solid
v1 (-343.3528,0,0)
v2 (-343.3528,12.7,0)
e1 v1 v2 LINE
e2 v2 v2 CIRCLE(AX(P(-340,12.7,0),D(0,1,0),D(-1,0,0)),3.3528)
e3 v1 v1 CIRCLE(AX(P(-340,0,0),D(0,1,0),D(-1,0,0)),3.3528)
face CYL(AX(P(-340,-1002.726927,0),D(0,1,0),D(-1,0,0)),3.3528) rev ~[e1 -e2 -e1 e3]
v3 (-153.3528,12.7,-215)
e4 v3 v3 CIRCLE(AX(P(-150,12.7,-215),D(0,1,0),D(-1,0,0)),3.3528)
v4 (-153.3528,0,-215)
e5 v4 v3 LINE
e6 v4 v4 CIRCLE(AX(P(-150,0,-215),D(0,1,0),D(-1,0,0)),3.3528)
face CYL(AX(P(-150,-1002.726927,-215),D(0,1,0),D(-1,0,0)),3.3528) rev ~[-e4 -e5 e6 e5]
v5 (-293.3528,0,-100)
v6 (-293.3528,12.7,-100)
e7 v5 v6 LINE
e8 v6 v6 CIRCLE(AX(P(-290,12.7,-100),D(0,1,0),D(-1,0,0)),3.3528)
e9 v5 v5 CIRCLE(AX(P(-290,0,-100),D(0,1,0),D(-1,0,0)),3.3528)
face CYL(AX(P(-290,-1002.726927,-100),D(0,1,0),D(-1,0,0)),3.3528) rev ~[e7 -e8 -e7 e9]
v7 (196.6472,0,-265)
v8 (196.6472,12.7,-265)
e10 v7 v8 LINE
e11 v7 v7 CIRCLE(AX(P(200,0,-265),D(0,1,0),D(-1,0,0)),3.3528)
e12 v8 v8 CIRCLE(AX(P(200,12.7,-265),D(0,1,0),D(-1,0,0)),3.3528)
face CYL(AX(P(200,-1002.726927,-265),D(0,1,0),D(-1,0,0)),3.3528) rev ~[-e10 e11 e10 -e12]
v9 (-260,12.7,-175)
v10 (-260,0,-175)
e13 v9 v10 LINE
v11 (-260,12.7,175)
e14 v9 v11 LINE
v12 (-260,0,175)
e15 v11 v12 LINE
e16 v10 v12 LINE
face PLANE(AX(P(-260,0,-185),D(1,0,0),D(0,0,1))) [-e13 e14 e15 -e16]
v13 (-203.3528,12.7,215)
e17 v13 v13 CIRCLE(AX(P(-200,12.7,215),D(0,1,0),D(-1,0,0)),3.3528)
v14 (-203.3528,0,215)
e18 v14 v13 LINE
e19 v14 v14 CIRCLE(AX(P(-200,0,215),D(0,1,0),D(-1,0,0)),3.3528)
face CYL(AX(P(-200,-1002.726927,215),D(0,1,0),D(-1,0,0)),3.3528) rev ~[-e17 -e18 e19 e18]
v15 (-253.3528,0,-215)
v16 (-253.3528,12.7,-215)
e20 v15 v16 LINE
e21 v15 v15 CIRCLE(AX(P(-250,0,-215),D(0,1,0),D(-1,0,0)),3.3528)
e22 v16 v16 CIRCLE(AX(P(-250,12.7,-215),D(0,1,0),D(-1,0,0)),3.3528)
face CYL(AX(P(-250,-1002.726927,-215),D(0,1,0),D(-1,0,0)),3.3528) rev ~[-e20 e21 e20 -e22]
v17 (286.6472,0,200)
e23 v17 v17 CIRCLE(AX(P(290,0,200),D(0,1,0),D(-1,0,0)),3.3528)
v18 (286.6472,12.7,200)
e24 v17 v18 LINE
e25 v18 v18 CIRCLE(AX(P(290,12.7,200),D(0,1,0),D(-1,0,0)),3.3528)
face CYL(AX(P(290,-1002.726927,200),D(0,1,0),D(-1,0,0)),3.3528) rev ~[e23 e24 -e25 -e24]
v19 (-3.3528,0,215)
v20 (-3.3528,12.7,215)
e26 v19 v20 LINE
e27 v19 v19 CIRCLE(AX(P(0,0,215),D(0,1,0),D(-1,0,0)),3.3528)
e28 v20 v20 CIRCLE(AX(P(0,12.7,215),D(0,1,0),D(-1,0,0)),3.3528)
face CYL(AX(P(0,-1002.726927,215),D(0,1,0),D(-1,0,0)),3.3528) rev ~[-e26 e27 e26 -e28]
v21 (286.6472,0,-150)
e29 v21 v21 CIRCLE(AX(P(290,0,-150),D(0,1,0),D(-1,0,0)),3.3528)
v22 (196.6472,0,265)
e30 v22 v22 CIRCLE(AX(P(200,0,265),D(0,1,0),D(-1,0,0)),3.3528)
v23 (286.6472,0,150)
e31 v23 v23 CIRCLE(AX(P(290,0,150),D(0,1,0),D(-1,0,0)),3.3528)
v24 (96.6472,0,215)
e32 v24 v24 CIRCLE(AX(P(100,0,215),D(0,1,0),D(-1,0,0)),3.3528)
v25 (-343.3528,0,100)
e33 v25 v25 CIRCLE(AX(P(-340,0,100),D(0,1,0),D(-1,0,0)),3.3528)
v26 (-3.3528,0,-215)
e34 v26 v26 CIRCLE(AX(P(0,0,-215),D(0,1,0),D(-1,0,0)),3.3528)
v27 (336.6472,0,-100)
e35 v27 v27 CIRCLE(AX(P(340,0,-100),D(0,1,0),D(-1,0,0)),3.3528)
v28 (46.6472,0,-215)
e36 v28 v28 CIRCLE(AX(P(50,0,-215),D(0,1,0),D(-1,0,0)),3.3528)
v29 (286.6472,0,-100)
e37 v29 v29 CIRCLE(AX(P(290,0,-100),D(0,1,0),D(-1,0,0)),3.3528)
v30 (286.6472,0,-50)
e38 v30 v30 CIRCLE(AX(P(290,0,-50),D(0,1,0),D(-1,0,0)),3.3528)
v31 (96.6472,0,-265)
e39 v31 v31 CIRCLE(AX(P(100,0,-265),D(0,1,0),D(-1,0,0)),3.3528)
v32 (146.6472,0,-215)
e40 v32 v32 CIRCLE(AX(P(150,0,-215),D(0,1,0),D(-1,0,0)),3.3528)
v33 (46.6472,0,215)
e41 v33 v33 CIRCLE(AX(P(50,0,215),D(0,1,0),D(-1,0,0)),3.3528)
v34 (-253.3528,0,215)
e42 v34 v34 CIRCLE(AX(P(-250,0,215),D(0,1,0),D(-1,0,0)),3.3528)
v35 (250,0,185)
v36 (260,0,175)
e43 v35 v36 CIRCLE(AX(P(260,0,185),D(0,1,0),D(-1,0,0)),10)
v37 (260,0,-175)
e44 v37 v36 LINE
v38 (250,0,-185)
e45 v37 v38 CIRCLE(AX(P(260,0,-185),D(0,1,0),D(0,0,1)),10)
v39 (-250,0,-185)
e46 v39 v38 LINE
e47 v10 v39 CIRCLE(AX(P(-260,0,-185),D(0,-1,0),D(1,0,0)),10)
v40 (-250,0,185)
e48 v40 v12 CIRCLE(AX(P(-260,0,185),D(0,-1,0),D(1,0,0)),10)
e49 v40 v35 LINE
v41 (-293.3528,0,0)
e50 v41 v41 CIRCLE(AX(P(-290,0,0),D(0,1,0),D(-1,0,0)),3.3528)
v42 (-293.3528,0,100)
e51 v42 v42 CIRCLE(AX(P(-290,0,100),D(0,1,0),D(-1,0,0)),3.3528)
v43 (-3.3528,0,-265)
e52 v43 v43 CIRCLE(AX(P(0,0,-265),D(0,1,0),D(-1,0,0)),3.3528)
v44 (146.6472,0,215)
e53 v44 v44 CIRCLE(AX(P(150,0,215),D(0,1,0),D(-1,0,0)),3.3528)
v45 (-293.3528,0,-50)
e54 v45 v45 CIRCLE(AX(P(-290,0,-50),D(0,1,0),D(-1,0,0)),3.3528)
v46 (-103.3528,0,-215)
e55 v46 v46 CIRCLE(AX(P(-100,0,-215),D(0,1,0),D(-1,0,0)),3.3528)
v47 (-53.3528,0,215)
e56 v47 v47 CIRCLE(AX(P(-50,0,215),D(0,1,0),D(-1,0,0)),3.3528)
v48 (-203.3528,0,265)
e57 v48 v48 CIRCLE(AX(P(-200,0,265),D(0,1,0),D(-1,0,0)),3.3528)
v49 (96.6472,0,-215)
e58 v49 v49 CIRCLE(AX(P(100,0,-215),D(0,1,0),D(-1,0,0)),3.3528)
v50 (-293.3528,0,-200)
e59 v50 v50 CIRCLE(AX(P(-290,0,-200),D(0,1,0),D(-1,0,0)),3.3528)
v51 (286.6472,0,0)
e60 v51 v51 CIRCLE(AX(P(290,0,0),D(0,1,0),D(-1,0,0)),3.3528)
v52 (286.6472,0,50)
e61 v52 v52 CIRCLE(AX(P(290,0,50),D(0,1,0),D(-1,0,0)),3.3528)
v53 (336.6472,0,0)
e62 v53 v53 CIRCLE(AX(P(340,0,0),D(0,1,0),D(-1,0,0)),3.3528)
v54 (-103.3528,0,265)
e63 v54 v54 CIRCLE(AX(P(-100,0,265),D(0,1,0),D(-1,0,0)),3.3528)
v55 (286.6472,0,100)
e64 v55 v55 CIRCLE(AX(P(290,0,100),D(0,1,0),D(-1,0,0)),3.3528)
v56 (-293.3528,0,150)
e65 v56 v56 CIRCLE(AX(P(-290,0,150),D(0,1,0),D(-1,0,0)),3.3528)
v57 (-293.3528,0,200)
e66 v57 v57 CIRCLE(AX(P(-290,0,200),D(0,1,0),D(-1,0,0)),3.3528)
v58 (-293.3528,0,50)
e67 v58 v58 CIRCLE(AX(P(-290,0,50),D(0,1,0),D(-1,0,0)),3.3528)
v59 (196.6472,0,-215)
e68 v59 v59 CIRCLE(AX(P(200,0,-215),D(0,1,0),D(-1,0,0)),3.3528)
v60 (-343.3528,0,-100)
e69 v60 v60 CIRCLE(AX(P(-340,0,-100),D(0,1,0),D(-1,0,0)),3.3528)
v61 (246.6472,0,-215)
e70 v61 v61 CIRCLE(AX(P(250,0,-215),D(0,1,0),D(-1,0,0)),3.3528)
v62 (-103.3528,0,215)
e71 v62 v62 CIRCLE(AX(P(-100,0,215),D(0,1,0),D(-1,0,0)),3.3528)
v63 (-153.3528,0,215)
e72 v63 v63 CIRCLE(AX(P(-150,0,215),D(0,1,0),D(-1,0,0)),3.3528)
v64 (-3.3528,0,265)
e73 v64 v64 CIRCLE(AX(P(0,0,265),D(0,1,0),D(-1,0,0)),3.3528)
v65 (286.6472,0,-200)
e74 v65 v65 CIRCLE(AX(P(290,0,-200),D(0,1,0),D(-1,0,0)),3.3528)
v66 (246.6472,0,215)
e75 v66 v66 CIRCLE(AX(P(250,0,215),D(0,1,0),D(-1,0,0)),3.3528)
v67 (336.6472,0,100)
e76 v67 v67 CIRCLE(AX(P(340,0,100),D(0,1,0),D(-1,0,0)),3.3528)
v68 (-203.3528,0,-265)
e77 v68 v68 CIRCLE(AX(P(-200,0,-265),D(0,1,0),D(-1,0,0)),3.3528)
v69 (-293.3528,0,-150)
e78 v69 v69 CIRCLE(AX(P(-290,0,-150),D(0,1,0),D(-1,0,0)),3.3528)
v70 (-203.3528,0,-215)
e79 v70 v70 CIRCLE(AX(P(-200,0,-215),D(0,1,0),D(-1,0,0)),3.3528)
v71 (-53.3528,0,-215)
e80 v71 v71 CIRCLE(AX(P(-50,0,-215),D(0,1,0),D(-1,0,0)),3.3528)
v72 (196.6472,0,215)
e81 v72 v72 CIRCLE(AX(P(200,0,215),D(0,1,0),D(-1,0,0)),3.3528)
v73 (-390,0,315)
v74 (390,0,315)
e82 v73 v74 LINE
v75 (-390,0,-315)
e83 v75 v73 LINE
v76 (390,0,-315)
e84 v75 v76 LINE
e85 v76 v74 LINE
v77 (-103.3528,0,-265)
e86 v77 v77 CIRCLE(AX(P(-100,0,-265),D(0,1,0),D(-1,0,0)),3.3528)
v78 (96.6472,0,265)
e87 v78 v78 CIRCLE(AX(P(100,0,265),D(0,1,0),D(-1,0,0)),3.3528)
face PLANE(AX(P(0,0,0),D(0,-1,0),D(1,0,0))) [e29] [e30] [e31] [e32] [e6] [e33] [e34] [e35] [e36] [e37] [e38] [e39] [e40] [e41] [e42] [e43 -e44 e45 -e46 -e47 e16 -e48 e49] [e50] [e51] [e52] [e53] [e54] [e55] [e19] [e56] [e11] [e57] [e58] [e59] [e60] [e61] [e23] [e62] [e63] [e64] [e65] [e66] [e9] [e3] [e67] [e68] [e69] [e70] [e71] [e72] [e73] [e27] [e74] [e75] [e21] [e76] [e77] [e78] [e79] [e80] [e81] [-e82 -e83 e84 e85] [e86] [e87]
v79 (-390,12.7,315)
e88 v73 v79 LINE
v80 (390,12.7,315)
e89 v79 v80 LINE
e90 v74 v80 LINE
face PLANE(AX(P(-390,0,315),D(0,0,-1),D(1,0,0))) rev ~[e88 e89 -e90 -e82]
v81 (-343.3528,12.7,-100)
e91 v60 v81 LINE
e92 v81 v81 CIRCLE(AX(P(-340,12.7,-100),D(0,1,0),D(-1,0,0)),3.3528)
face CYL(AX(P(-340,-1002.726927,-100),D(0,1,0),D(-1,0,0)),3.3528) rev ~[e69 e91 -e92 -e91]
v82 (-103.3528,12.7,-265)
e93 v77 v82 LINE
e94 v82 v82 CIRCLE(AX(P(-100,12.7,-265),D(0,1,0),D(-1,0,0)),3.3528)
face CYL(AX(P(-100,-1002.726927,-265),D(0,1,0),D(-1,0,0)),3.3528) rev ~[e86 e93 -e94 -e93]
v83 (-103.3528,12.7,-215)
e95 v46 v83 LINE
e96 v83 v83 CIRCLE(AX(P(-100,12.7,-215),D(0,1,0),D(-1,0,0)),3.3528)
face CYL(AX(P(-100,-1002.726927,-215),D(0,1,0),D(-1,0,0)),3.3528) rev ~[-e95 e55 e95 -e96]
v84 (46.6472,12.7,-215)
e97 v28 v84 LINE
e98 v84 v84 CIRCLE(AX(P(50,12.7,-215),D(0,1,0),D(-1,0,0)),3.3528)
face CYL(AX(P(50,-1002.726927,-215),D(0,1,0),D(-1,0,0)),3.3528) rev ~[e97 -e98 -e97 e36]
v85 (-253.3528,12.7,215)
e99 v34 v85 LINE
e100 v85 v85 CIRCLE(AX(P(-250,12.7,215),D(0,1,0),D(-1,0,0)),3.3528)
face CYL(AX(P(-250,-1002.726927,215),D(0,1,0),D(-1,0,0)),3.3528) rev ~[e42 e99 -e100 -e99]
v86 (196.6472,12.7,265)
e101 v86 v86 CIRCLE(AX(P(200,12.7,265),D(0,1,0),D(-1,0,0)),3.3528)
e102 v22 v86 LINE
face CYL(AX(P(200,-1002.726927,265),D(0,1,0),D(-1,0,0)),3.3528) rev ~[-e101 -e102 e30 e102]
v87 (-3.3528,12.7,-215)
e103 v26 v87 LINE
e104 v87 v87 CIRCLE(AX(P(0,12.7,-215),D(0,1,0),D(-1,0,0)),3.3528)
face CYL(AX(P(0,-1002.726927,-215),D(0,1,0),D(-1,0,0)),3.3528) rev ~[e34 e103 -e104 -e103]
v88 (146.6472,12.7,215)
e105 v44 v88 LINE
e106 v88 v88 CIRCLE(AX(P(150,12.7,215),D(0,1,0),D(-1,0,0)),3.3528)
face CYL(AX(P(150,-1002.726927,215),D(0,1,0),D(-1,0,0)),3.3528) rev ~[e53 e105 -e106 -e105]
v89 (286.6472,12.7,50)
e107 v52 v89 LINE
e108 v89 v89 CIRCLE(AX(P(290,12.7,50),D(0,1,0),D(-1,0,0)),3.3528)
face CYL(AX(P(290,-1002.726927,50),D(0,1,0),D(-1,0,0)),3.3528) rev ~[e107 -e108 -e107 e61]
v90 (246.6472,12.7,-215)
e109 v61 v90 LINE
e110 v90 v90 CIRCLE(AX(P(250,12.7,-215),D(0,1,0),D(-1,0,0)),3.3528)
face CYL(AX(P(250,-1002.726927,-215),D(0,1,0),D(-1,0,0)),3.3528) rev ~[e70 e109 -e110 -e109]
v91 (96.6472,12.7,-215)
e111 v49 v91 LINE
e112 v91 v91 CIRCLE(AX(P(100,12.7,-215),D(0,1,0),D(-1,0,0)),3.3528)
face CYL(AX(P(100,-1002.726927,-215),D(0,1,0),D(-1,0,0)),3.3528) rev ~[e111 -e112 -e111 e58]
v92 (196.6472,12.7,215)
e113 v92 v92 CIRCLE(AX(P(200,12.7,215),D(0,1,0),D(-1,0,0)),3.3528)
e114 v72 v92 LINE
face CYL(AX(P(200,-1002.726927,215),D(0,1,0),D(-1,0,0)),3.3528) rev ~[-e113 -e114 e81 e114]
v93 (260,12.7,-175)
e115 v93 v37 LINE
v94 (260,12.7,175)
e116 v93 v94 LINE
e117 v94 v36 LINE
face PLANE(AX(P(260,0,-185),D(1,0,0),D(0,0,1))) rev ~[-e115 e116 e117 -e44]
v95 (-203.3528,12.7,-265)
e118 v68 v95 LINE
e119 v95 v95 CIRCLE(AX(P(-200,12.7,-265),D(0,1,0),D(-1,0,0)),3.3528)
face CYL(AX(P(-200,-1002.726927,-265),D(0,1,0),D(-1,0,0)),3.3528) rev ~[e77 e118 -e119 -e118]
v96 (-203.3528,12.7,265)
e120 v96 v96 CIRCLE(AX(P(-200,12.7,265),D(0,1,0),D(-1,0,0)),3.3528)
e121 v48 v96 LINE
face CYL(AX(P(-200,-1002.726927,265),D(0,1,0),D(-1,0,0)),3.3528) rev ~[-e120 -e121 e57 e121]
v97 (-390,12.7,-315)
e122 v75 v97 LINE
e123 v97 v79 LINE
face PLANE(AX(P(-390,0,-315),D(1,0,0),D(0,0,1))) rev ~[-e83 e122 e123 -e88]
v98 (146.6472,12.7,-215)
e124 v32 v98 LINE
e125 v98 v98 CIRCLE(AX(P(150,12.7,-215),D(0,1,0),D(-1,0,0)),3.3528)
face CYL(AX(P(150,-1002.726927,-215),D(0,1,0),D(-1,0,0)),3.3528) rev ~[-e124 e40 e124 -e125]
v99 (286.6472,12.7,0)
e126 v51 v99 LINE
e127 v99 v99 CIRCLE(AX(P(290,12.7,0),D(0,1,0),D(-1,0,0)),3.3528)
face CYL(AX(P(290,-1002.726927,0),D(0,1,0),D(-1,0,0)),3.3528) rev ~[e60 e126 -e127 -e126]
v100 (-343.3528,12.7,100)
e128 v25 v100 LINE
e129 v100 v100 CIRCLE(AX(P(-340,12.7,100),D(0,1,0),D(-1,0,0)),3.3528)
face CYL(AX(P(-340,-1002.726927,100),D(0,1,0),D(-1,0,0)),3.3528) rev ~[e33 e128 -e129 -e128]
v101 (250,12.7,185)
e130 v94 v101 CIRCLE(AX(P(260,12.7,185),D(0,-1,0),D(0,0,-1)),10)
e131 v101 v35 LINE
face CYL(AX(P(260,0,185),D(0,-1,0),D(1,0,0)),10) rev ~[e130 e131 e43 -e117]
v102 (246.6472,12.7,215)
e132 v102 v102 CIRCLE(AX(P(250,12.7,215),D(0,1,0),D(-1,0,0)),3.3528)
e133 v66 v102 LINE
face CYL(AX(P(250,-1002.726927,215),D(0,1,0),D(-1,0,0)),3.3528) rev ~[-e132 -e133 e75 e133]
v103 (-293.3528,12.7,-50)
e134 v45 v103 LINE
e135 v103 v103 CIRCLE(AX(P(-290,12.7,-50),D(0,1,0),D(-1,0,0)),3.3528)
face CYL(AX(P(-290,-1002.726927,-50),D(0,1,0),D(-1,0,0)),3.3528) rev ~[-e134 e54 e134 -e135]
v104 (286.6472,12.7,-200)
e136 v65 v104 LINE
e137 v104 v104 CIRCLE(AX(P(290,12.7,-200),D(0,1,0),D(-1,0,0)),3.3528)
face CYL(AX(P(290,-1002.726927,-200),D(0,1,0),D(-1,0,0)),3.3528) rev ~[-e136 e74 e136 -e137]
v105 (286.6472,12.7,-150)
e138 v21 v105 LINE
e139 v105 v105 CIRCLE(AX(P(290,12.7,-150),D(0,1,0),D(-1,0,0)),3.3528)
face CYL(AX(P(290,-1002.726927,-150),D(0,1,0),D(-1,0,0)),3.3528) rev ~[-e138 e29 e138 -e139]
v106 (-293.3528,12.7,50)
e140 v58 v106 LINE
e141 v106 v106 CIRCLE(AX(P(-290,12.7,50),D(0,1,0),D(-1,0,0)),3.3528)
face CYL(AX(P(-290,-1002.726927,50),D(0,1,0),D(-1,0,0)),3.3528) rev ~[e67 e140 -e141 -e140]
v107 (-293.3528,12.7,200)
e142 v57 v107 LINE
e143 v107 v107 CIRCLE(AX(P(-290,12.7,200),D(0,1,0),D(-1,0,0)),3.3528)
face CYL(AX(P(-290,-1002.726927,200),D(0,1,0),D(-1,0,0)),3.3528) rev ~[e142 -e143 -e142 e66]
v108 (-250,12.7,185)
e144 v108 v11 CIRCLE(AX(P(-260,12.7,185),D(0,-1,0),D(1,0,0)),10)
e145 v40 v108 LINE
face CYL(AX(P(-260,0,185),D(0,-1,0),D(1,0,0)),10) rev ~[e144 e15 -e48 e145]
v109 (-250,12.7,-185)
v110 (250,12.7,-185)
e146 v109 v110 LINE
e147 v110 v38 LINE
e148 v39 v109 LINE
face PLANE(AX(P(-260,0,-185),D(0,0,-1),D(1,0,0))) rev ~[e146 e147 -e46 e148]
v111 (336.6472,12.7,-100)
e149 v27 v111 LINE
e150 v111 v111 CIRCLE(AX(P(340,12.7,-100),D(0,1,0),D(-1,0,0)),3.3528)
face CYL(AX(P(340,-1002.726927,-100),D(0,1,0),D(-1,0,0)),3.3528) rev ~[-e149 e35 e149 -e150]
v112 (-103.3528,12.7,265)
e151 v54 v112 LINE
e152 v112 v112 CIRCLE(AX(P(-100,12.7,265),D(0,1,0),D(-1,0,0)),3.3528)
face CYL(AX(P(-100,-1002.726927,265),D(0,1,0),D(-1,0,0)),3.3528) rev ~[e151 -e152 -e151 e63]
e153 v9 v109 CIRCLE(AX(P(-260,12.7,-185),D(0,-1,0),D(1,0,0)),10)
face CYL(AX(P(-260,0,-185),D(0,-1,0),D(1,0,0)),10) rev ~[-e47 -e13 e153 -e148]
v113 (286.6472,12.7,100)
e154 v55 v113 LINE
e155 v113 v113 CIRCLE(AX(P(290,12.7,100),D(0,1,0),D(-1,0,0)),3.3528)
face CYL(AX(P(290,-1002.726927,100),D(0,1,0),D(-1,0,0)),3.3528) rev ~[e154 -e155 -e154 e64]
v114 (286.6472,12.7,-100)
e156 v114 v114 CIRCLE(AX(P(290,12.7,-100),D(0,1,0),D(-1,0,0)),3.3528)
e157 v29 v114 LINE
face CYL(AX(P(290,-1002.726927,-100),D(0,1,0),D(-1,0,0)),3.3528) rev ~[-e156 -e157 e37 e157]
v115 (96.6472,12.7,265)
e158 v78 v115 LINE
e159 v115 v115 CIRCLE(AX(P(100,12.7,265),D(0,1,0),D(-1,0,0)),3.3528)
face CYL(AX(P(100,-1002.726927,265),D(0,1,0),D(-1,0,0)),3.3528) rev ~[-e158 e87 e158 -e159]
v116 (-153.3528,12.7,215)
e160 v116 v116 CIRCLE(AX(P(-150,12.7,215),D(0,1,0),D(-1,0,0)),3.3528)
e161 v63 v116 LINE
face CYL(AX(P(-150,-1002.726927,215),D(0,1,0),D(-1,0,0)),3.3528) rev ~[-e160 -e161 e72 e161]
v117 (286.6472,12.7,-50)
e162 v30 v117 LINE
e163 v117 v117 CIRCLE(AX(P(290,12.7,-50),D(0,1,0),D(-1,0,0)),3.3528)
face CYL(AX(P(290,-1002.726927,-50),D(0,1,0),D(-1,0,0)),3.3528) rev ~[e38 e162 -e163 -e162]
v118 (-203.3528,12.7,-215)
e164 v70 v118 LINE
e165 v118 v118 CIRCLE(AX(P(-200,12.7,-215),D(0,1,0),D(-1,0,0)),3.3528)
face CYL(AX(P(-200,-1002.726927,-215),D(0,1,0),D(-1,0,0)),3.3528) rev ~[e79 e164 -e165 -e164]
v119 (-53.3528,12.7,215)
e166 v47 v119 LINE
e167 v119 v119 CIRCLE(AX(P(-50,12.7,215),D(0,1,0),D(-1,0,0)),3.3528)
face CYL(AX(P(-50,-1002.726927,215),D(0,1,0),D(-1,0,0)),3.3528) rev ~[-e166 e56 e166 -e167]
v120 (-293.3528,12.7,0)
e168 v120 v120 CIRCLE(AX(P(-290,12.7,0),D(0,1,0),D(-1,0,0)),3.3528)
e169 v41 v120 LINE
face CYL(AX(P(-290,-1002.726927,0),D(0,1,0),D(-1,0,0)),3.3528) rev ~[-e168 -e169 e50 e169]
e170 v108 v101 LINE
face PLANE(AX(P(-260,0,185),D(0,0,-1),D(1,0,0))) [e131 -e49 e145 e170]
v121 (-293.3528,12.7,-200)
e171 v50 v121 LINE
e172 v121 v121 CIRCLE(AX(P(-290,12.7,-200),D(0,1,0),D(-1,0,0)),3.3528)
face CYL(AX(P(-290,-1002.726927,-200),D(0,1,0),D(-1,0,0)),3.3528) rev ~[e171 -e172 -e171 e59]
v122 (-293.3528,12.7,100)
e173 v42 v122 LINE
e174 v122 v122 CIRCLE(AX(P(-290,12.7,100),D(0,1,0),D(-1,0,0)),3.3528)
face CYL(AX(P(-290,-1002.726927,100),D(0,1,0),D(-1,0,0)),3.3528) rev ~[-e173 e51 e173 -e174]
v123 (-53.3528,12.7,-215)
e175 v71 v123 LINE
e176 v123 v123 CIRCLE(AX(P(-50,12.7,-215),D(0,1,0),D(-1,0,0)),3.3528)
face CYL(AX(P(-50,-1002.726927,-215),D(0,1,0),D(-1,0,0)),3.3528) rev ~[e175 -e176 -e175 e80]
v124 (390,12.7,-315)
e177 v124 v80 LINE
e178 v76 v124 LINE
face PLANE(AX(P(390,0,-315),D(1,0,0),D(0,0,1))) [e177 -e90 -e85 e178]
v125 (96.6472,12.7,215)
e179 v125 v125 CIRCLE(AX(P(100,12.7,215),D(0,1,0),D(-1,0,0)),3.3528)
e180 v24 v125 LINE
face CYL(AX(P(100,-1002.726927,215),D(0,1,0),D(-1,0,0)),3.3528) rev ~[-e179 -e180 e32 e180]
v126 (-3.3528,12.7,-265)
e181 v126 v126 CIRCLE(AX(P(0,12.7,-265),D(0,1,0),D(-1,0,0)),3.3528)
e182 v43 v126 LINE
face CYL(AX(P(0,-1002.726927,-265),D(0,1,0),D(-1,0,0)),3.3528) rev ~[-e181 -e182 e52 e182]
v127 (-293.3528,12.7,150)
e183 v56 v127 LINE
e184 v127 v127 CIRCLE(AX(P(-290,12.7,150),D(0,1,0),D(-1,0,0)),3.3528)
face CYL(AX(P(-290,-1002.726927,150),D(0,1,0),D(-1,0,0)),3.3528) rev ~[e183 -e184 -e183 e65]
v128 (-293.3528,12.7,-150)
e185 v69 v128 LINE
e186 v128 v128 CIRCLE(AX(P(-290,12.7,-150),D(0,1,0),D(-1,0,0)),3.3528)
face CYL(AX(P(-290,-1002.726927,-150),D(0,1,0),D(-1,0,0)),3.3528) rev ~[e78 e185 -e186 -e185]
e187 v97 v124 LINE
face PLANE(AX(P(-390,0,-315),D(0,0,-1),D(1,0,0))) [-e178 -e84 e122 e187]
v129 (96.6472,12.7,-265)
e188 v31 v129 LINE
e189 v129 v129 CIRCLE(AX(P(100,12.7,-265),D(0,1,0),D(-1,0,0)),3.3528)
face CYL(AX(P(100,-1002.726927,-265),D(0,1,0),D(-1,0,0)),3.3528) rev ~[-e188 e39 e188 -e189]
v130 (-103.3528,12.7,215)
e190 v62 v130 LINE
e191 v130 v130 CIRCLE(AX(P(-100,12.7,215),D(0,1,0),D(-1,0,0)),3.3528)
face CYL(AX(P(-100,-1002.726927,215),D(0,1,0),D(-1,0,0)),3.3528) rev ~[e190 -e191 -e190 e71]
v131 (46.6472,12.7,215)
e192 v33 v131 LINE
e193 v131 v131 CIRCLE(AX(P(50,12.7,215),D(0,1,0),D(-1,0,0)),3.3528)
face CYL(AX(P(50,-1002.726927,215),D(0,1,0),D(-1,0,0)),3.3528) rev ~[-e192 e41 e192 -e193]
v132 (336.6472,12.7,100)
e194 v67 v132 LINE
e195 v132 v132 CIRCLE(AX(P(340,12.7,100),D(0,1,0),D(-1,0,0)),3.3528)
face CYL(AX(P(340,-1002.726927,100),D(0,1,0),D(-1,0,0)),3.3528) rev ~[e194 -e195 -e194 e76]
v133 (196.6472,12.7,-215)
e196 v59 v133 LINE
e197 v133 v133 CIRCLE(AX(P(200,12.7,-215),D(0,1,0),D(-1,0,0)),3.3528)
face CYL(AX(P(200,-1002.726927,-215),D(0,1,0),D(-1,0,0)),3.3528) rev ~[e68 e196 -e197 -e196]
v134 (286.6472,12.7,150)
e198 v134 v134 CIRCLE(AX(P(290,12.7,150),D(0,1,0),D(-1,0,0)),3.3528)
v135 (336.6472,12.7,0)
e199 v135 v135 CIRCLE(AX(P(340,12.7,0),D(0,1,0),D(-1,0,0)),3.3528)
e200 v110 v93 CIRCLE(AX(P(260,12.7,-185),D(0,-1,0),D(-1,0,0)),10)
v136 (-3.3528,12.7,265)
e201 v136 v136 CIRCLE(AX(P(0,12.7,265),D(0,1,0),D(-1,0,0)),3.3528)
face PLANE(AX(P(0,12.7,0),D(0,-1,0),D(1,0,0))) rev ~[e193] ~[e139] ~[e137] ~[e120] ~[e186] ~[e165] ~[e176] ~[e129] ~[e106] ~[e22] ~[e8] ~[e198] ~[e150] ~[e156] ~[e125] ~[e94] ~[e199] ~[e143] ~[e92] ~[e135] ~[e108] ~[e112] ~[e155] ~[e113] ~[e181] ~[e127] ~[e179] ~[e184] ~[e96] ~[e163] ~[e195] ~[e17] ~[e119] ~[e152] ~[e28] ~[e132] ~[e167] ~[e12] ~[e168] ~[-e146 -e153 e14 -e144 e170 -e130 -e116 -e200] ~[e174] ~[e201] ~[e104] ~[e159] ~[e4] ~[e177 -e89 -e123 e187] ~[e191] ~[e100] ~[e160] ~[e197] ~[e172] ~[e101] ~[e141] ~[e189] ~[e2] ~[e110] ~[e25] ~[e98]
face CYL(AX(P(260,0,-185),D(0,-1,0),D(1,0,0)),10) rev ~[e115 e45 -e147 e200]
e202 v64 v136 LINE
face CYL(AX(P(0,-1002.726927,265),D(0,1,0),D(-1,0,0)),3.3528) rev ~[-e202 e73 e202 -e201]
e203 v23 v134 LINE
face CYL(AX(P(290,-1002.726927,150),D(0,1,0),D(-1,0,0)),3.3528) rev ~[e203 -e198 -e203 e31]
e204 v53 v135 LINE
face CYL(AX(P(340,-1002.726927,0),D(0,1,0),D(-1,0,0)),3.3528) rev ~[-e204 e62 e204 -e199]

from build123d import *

# Parameters (mm, degrees)
F0_W     = 780
F0_H     = 630
F0_W_2   = 520
F0_H_2   = 370
F1_DEPTH = 12.7
F4_D     = 6.7056
F5_R     = 10
F6_DEPTH = 12.701


with BuildPart() as f1:
    # F0 (on Front) → F1 (new body)
    with BuildSketch(Plane.XZ):
        Rectangle(F0_W, F0_H)
        Rectangle(F0_W_2, F0_H_2, mode=Mode.SUBTRACT)
    extrude(amount=-F1_DEPTH)

    # F4 (through all)
    with Locations(Plane.XZ):
        with Locations((-250, 215), (-200, 215), (-150, 215), (-100, 215), (-50, 215), (0, 215), (50, 215), (100, 215), (150, 215), (200, 215), (250, 215), (200, 265), (100, 265), (0, 265), (-100, 265), (-200, 265), (-290, 200), (-290, 150), (-290, 100), (-290, 50), (-290, 0), (-340, 0), (-340, 100), (-290, -50), (-290, -100), (-290, -150), (100, -265), (0, -265), (200, -265), (-100, -265), (-200, -265), (100, -215), (-100, -215), (-200, -215), (250, -215), (150, -215), (-50, -215), (-150, -215), (0, -215), (50, -215), (-250, -215), (200, -215), (-290, -200), (290, 50), (290, 0), (290, 200), (290, 150), (290, 100), (290, -200), (290, -150), (290, -100), (290, -50), (-340, -100), (340, 100), (340, 0), (340, -100), (340, 0), (340, -100)):
            Hole(F4_D / 2)

    # F5 (on face) → F6 (cut, through all)
    with BuildSketch(Plane.XZ):
        with Locations((-260, 185)):
            Circle(F5_R)
        with Locations((-260, -185)):
            Circle(F5_R)
        with Locations((260, -185)):
            Circle(F5_R)
        with Locations((260, 185)):
            Circle(F5_R)
    extrude(amount=-F6_DEPTH, mode=Mode.SUBTRACT)


solid = f1.part
